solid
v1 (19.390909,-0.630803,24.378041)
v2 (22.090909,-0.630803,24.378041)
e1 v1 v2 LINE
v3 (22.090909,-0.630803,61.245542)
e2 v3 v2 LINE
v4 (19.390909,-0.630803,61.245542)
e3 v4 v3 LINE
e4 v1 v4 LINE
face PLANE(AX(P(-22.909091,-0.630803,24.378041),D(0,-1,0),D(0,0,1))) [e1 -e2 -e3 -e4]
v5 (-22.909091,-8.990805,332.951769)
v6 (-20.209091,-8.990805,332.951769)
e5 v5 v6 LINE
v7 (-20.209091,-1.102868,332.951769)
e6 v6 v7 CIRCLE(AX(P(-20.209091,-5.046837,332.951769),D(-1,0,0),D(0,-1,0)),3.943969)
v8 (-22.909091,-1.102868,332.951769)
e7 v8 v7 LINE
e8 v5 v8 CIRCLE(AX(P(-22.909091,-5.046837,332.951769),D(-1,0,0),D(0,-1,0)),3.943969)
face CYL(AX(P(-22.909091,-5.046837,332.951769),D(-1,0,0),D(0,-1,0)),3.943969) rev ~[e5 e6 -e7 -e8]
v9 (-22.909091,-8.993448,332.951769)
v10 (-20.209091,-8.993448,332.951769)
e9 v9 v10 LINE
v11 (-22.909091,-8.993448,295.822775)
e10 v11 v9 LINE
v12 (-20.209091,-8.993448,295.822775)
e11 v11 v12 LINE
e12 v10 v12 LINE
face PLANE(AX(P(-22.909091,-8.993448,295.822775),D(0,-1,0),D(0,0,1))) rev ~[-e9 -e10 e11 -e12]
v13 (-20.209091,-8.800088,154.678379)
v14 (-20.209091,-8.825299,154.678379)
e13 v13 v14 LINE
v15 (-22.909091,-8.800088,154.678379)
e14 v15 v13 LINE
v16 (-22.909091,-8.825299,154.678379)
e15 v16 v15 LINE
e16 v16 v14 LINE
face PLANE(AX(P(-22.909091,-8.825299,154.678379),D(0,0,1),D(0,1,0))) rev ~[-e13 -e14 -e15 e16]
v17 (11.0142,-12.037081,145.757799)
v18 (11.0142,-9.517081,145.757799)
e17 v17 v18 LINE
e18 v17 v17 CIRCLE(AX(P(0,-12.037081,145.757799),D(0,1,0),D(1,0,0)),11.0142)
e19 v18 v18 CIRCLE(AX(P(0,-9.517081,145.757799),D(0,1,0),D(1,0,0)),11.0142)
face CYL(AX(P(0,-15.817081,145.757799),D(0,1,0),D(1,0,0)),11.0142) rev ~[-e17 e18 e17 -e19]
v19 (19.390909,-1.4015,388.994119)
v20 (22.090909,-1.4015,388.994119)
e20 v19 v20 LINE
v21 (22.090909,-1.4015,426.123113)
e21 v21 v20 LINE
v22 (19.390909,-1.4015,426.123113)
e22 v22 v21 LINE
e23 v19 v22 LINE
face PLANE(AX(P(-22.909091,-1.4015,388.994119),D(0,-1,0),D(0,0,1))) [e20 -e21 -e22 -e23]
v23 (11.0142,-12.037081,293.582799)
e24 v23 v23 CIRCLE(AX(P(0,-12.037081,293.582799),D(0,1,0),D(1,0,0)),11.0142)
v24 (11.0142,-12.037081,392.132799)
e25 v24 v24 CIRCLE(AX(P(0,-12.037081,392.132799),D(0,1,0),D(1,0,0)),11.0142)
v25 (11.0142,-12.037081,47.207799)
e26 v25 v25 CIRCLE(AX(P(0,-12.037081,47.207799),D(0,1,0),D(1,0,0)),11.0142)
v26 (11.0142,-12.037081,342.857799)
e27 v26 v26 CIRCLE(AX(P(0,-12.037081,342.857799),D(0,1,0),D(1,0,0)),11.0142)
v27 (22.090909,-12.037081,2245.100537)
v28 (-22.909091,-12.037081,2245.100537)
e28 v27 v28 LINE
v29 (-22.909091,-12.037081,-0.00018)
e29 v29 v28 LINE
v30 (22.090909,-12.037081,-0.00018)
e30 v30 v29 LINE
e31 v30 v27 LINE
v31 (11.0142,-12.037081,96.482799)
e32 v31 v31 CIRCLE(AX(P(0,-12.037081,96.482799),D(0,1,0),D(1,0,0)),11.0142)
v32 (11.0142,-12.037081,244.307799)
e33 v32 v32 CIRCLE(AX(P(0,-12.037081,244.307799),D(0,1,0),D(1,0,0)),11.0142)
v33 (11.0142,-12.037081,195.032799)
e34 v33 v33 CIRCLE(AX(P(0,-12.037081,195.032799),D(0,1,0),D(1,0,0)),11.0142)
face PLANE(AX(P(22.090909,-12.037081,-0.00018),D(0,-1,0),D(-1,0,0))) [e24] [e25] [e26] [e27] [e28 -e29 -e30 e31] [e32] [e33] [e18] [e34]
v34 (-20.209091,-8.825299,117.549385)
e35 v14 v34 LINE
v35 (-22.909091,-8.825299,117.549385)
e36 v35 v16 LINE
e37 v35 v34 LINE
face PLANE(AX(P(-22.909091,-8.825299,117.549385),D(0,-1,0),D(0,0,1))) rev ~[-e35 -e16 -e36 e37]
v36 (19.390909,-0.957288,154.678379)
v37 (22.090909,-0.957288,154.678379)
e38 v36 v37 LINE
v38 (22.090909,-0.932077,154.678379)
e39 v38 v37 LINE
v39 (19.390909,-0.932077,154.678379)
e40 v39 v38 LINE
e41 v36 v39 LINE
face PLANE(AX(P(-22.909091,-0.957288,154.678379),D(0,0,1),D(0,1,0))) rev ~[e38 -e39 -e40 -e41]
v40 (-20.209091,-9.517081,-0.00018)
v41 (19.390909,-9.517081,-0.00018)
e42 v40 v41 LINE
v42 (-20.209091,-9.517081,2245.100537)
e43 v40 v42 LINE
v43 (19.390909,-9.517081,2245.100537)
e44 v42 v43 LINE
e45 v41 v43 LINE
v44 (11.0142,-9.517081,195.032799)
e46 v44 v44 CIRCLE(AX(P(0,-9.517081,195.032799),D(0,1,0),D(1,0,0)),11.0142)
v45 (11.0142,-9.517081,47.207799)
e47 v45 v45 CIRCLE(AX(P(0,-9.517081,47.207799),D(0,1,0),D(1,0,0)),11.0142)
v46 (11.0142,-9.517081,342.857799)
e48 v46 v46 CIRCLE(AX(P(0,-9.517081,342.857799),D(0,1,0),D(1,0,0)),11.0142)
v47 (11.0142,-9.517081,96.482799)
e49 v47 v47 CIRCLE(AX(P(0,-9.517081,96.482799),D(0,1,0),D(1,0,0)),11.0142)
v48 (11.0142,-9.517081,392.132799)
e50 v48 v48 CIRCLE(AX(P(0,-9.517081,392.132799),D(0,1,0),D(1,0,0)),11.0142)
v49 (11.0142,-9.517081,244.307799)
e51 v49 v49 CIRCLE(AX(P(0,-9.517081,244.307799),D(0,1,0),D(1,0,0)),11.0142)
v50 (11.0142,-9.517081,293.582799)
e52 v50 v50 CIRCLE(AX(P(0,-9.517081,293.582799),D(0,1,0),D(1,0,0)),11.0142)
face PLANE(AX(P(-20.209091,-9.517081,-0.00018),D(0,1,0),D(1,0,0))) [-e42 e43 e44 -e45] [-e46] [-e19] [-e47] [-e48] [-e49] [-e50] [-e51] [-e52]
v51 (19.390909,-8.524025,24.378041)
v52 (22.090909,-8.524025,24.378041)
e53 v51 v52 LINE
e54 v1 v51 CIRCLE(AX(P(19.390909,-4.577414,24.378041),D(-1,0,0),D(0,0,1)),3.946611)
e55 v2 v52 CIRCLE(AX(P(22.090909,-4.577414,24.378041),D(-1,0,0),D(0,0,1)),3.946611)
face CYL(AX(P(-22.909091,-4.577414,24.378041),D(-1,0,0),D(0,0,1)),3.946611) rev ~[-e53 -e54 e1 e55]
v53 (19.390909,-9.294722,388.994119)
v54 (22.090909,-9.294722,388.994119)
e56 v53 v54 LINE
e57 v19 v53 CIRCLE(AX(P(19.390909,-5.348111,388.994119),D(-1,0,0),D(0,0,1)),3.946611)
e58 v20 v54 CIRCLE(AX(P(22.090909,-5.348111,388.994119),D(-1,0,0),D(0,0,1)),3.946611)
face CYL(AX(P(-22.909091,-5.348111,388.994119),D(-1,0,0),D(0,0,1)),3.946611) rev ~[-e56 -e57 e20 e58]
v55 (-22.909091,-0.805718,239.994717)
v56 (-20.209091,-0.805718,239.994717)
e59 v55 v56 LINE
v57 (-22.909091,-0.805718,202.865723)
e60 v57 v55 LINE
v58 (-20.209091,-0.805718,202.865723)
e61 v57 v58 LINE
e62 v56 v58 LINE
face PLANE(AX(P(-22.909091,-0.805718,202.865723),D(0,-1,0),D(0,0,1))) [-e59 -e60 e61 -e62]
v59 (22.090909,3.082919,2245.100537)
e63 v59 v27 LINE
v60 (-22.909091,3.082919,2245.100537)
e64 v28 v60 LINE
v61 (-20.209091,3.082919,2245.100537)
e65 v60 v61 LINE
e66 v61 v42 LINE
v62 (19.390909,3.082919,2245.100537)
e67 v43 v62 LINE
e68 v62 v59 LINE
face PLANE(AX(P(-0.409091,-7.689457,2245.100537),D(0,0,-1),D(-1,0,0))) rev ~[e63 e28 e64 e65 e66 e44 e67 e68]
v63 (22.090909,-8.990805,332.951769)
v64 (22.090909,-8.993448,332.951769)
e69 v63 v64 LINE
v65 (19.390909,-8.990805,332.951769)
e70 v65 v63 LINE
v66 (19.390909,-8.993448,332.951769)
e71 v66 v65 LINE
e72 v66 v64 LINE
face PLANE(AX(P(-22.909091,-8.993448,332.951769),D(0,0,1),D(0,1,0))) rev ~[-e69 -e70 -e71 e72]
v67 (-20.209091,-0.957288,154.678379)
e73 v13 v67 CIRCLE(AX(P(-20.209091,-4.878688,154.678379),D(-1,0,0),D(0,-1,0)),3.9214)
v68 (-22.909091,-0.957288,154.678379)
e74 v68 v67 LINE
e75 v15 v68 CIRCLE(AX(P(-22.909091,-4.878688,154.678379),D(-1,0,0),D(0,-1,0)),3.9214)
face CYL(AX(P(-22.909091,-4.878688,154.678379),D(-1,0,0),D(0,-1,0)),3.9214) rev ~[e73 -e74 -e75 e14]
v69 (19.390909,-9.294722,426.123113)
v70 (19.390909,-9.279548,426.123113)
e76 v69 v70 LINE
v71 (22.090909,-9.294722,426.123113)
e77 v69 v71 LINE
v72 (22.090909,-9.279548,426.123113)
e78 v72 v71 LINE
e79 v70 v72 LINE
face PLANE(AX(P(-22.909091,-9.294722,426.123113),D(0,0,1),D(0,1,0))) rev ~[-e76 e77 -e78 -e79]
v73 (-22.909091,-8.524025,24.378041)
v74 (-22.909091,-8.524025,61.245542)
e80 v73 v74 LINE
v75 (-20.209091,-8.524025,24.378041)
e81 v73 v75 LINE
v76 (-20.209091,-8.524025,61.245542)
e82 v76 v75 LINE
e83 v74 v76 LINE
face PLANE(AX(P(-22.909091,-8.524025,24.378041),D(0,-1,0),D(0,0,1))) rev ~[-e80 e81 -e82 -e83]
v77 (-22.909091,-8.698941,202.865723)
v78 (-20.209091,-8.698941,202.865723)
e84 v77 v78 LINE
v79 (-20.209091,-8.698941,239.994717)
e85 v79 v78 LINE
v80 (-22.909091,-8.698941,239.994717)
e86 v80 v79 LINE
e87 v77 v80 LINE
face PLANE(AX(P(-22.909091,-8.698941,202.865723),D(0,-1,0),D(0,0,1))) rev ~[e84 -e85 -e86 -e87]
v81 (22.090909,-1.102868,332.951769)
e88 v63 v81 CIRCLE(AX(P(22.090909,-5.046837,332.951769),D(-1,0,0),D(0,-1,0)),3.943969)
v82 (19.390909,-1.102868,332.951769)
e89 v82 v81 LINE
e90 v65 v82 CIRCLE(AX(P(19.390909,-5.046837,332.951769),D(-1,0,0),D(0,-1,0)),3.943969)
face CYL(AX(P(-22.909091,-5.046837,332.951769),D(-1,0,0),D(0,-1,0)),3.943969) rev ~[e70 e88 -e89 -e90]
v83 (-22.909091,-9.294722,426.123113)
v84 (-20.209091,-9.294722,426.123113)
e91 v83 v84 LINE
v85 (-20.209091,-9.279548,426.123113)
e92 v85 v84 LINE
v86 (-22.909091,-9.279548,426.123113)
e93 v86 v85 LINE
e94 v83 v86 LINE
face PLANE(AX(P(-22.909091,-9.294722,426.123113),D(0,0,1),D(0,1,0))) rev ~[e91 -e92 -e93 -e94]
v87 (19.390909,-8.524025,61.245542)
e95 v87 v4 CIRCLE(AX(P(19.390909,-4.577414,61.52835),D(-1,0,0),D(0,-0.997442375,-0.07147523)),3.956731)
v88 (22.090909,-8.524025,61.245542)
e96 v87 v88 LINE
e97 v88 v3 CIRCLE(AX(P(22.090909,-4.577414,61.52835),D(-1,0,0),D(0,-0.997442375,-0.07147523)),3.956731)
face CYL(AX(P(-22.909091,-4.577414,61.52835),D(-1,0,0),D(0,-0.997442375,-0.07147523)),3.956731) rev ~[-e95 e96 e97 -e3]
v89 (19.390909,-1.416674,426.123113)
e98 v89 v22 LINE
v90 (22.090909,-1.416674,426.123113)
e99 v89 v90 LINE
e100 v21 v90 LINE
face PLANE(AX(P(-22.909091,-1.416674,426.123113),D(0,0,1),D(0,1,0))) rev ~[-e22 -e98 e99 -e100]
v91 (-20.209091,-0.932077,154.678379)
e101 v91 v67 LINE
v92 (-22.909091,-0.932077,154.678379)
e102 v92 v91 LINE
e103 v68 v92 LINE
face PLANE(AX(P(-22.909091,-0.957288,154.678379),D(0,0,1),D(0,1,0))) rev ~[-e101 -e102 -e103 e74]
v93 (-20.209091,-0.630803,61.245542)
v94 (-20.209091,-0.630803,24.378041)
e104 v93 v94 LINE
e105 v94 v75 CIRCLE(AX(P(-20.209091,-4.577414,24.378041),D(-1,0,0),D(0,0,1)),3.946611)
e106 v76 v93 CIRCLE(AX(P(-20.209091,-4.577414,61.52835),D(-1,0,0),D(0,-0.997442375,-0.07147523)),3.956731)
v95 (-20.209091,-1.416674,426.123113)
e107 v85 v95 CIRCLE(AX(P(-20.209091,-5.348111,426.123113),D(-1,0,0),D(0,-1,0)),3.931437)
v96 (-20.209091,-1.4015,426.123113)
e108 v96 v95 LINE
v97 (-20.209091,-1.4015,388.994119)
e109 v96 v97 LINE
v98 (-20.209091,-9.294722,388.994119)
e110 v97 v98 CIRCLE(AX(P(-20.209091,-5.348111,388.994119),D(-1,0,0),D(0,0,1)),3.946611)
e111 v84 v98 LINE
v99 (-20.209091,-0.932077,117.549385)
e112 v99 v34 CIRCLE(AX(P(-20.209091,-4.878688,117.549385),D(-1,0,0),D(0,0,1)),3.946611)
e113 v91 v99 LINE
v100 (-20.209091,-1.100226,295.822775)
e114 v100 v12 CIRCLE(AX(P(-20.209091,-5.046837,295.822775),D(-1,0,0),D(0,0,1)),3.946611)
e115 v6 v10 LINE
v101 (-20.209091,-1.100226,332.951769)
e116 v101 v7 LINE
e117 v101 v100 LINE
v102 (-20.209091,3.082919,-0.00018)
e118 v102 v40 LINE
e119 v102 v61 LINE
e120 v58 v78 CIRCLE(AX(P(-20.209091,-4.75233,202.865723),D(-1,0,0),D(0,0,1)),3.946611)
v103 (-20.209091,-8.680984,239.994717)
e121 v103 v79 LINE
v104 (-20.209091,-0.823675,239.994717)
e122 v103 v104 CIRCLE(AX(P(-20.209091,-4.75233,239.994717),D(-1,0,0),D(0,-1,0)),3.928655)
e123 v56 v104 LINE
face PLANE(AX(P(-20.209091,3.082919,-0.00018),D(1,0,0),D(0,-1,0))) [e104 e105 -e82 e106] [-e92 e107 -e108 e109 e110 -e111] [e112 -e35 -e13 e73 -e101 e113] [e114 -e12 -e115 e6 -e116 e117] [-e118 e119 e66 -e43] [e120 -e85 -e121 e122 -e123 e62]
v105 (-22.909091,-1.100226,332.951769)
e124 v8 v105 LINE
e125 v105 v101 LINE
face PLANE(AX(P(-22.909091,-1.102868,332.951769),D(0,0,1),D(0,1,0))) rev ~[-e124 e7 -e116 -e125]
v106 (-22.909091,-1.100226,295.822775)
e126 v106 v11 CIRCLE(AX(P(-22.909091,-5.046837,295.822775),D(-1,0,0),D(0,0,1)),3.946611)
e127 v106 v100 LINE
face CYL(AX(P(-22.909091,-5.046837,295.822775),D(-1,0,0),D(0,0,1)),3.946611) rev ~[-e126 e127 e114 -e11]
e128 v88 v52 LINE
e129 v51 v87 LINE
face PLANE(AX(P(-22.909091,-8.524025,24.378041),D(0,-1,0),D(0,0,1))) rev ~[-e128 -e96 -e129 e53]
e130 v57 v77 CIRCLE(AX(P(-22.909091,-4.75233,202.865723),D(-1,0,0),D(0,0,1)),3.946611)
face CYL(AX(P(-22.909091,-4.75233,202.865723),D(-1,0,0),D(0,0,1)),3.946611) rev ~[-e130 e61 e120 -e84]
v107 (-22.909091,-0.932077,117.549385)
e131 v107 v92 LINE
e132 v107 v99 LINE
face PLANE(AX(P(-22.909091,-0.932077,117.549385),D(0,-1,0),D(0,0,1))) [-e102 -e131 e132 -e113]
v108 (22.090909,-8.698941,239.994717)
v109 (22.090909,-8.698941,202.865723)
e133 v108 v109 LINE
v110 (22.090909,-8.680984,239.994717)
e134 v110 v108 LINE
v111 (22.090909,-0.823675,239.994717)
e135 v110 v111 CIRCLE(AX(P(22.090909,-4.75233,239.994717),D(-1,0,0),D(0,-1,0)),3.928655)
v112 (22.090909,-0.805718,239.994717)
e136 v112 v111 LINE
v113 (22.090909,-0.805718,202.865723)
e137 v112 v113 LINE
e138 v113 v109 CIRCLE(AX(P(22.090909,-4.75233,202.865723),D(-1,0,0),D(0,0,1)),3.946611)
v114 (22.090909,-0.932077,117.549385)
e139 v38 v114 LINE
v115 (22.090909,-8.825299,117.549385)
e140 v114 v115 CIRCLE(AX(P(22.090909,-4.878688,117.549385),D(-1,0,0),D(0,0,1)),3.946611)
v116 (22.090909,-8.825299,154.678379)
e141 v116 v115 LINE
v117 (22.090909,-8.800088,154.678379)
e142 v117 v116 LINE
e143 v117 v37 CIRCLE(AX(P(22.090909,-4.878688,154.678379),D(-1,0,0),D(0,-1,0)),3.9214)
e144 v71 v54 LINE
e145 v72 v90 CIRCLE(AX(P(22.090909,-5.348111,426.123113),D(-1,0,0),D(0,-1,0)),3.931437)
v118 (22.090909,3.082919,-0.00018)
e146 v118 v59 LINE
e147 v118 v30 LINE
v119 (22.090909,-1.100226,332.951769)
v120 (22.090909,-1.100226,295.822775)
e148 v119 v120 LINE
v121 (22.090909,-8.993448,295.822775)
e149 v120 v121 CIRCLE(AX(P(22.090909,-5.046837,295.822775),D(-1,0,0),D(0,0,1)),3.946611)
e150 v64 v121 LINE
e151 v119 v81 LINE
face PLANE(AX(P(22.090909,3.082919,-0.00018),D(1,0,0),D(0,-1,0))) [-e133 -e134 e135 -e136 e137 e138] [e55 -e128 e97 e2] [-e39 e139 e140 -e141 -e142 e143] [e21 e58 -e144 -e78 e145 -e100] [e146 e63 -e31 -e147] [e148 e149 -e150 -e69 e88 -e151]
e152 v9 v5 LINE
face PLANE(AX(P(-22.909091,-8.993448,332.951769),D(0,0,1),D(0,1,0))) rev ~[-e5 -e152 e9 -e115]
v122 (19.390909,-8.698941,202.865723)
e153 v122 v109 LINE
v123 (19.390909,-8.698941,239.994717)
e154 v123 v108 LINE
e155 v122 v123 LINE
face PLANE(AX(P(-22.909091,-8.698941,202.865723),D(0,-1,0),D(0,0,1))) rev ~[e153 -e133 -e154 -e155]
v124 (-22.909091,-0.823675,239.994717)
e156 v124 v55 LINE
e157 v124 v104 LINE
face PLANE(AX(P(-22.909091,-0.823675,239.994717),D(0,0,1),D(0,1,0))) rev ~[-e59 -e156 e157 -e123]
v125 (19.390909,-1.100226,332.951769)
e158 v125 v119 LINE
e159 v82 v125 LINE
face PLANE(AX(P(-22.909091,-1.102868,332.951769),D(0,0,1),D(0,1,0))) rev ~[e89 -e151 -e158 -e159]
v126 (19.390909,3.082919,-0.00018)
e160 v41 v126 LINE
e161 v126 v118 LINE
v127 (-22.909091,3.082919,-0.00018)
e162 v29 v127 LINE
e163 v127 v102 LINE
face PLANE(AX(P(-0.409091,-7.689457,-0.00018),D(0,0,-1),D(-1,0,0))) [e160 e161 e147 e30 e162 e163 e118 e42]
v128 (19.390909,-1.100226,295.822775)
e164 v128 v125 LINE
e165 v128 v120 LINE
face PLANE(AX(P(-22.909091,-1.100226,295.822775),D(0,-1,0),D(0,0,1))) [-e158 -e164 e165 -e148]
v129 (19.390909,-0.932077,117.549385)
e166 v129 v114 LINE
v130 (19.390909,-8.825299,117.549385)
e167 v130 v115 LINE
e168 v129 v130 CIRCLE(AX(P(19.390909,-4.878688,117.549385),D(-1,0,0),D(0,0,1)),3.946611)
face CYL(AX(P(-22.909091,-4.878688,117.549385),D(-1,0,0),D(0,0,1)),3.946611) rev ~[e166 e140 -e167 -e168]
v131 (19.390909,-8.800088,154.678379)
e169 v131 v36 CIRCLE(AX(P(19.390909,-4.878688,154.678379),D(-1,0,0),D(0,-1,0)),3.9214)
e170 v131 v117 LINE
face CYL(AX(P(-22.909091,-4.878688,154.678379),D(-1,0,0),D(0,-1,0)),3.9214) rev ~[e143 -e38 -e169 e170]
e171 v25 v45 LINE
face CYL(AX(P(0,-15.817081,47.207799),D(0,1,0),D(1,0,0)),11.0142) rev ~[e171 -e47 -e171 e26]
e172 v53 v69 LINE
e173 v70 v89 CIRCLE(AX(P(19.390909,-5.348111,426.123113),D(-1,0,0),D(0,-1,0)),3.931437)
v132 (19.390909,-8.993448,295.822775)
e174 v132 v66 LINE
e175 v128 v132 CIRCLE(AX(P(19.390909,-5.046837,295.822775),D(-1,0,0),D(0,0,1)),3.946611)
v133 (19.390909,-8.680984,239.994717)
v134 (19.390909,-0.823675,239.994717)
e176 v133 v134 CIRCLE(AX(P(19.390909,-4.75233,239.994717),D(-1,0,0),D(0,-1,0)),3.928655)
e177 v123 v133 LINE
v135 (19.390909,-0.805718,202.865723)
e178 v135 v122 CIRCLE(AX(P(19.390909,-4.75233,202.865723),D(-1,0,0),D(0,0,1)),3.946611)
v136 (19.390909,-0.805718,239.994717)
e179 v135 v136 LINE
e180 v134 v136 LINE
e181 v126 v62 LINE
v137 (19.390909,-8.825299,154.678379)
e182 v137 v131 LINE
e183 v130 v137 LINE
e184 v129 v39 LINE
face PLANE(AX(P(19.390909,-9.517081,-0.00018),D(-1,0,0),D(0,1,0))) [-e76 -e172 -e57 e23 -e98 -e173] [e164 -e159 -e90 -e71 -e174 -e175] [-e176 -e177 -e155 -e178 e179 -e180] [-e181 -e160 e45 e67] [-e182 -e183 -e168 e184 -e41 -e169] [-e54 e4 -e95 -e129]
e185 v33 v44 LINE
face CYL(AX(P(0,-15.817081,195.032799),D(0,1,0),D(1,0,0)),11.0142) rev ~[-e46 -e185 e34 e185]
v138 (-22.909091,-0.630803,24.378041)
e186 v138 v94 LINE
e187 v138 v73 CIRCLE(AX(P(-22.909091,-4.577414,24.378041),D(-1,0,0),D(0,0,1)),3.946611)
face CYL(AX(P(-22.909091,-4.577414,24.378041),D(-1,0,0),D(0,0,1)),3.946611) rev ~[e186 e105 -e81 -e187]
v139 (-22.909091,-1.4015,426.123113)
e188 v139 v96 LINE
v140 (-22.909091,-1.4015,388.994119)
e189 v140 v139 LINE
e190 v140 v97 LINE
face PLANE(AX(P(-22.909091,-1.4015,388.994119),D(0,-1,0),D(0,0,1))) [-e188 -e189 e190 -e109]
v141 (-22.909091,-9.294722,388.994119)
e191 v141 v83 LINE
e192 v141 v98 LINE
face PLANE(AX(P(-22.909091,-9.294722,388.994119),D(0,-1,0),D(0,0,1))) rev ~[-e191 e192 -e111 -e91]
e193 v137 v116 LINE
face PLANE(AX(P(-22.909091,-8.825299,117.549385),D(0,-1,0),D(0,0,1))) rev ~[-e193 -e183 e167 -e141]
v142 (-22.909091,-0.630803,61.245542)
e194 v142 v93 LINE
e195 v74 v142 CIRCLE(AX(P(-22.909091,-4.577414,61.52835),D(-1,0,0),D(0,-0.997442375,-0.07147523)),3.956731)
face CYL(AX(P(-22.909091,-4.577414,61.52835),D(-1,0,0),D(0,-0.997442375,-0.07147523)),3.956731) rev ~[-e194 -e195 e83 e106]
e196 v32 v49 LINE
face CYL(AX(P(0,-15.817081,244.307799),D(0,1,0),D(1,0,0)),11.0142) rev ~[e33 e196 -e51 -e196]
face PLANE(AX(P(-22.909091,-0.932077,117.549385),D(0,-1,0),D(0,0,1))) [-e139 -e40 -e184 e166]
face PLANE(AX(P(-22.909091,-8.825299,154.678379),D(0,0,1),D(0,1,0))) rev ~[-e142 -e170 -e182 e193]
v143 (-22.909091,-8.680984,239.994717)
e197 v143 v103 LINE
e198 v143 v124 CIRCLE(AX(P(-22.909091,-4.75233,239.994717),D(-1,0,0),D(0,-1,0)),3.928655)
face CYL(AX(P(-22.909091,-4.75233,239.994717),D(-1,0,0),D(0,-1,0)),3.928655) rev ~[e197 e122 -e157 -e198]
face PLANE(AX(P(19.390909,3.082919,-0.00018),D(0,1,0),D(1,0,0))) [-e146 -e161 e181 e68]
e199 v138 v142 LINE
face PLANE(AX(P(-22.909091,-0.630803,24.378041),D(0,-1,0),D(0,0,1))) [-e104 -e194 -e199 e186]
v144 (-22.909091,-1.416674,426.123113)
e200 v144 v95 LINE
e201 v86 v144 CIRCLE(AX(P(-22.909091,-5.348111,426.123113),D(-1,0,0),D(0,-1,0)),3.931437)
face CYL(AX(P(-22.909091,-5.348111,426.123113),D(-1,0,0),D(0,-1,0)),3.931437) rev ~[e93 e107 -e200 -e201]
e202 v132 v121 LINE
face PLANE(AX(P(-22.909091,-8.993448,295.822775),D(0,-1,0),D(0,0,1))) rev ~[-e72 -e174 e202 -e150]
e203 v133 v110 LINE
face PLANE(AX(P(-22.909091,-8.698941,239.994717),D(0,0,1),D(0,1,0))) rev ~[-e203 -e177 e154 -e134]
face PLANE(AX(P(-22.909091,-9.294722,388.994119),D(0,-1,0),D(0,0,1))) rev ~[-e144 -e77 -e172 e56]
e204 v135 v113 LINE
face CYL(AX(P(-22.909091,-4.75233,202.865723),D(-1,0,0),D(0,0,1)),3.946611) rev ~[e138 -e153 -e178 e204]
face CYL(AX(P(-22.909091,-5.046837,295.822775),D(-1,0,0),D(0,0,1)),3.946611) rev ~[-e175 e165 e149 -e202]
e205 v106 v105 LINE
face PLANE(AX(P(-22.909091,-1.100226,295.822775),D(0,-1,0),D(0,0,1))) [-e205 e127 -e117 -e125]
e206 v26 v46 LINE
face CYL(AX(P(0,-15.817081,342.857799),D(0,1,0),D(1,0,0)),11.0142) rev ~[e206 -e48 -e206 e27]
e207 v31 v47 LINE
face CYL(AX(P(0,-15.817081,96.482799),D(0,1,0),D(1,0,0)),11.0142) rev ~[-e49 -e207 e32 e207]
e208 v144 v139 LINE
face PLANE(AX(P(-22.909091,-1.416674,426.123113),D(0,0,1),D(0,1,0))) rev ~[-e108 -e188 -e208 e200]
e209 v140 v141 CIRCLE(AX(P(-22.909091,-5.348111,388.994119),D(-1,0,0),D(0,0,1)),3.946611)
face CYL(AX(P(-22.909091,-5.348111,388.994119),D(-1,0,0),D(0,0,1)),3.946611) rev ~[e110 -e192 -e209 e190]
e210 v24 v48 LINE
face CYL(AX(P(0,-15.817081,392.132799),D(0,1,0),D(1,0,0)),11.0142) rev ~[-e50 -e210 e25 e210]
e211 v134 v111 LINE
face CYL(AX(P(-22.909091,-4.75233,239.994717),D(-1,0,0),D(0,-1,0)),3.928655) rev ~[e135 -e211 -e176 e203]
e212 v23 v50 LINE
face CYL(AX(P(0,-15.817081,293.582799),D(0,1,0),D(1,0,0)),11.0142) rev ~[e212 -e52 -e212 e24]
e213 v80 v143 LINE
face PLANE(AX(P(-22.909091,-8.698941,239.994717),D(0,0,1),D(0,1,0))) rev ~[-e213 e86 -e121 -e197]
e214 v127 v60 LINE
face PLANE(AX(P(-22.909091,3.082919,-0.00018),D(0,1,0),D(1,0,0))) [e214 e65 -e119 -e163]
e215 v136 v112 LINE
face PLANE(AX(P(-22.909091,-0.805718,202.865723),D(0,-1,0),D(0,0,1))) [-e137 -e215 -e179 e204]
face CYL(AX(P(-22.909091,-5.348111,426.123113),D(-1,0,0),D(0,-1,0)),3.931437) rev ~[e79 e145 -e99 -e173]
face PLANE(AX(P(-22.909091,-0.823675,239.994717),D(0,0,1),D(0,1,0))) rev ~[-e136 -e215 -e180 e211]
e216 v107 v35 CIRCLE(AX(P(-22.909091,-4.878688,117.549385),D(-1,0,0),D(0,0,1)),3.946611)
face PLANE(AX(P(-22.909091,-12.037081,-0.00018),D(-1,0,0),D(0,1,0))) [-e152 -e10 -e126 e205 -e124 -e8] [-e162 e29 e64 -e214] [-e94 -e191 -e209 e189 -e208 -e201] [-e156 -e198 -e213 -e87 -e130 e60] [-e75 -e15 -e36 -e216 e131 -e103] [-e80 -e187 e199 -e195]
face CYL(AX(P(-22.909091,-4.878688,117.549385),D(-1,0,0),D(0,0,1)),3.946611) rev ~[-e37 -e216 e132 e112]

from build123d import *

# Parameters (mm, degrees)
BOSS_EXTRUDE1_DEPTH                     = 1247.2780762
BOSS_EXTRUDE1_DEPTH_BACK                = 0.0001
CBORE_FOR_M5_HEX_HEAD_BOLT1_D           = 5.8
CBORE_FOR_M5_HEX_HEAD_BOLT1_CBORE_D     = 12.238
CBORE_FOR_M5_HEX_HEAD_BOLT1_CBORE_DEPTH = 3.5
SKETCH12_R                              = 2.192561761
SKETCH12_R_2                            = 2.198183891
SKETCH12_R_3                            = 2.178555517
SKETCH12_R_4                            = 2.1825859
SKETCH12_R_5                            = 2.191093622
SKETCH12_R_6                            = 2.184131757
SKETCH12_W                              = 20.639060425
SKETCH12_H                              = 4.385123522
SKETCH12_W_2                            = 20.62721893
CUT_EXTRUDE3_DEPTH                      = 219
SCALE1_SCALE                            = 1.8


with BuildPart() as part:
    # Sketch1 → Boss-Extrude1 (new, two sides: drawn at the far end of the back side and taken through both)
    with BuildSketch(Plane.XY.offset(-BOSS_EXTRUDE1_DEPTH_BACK)):
        Polygon((-11.227272727, -5.287267028), (10.772727273, -5.287267028), (10.772727273, 1.712732972), (12.272727273, 1.712732972), (12.272727273, -6.687267028), (-12.727272727, -6.687267028), (-12.727272727, 1.712732972), (-11.227272727, 1.712732972), align=None)
    extrude(amount=BOSS_EXTRUDE1_DEPTH + BOSS_EXTRUDE1_DEPTH_BACK)

    # CBORE for M5 Hex Head Bolt1 (through all)
    with Locations(Plane(origin=(0, -5.287267028, 0), x_dir=(1, 0, 0), z_dir=(0, 1, 0))):
        with Locations((0, -26.226555277), (0, -53.601555277), (0, -80.976555277), (0, -108.351555277), (0, -135.726555277), (0, -163.101555277), (0, -190.476555277), (0, -217.851555277)):
            CounterBoreHole(CBORE_FOR_M5_HEX_HEAD_BOLT1_D / 2, CBORE_FOR_M5_HEX_HEAD_BOLT1_CBORE_D / 2, CBORE_FOR_M5_HEX_HEAD_BOLT1_CBORE_DEPTH)

    # Sketch12 → Cut-Extrude3 (cut)
    with BuildSketch(Plane.ZY.offset(12.727272727)):
        with Locations((13.543356252, -2.543007858)):
            Circle(SKETCH12_R)
        with Locations((34.182416677, -2.543007858)):
            Circle(SKETCH12_R_2)
        with Locations((65.305213992, -2.710382167)):
            Circle(SKETCH12_R)
        with Locations((85.932432922, -2.710382167)):
            Circle(SKETCH12_R_3)
        with Locations((112.703179644, -2.640183104)):
            Circle(SKETCH12_R)
        with Locations((133.330398574, -2.640183104)):
            Circle(SKETCH12_R_4)
        with Locations((164.345985992, -2.803798306)):
            Circle(SKETCH12_R)
        with Locations((184.973204922, -2.803798306)):
            Circle(SKETCH12_R_5)
        with Locations((216.107843732, -2.971172615)):
            Circle(SKETCH12_R)
        with Locations((236.735062662, -2.971172615)):
            Circle(SKETCH12_R_6)
        with Locations((23.862886465, -2.543007858)):
            Rectangle(SKETCH12_W, SKETCH12_H)
        with Locations((75.618823457, -2.710382167)):
            Rectangle(SKETCH12_W_2, SKETCH12_H)
        with Locations((123.016789109, -2.640183104)):
            Rectangle(SKETCH12_W_2, SKETCH12_H)
        with Locations((174.659595457, -2.803798306)):
            Rectangle(SKETCH12_W_2, SKETCH12_H)
        with Locations((226.421453197, -2.971172615)):
            Rectangle(SKETCH12_W_2, SKETCH12_H)
    extrude(amount=-CUT_EXTRUDE3_DEPTH, mode=Mode.SUBTRACT)


with BuildPart() as part_1:
    # Scale1: scaled about (0, 0, 0)
    add(part.part.scale(SCALE1_SCALE))


solid = part_1.part
